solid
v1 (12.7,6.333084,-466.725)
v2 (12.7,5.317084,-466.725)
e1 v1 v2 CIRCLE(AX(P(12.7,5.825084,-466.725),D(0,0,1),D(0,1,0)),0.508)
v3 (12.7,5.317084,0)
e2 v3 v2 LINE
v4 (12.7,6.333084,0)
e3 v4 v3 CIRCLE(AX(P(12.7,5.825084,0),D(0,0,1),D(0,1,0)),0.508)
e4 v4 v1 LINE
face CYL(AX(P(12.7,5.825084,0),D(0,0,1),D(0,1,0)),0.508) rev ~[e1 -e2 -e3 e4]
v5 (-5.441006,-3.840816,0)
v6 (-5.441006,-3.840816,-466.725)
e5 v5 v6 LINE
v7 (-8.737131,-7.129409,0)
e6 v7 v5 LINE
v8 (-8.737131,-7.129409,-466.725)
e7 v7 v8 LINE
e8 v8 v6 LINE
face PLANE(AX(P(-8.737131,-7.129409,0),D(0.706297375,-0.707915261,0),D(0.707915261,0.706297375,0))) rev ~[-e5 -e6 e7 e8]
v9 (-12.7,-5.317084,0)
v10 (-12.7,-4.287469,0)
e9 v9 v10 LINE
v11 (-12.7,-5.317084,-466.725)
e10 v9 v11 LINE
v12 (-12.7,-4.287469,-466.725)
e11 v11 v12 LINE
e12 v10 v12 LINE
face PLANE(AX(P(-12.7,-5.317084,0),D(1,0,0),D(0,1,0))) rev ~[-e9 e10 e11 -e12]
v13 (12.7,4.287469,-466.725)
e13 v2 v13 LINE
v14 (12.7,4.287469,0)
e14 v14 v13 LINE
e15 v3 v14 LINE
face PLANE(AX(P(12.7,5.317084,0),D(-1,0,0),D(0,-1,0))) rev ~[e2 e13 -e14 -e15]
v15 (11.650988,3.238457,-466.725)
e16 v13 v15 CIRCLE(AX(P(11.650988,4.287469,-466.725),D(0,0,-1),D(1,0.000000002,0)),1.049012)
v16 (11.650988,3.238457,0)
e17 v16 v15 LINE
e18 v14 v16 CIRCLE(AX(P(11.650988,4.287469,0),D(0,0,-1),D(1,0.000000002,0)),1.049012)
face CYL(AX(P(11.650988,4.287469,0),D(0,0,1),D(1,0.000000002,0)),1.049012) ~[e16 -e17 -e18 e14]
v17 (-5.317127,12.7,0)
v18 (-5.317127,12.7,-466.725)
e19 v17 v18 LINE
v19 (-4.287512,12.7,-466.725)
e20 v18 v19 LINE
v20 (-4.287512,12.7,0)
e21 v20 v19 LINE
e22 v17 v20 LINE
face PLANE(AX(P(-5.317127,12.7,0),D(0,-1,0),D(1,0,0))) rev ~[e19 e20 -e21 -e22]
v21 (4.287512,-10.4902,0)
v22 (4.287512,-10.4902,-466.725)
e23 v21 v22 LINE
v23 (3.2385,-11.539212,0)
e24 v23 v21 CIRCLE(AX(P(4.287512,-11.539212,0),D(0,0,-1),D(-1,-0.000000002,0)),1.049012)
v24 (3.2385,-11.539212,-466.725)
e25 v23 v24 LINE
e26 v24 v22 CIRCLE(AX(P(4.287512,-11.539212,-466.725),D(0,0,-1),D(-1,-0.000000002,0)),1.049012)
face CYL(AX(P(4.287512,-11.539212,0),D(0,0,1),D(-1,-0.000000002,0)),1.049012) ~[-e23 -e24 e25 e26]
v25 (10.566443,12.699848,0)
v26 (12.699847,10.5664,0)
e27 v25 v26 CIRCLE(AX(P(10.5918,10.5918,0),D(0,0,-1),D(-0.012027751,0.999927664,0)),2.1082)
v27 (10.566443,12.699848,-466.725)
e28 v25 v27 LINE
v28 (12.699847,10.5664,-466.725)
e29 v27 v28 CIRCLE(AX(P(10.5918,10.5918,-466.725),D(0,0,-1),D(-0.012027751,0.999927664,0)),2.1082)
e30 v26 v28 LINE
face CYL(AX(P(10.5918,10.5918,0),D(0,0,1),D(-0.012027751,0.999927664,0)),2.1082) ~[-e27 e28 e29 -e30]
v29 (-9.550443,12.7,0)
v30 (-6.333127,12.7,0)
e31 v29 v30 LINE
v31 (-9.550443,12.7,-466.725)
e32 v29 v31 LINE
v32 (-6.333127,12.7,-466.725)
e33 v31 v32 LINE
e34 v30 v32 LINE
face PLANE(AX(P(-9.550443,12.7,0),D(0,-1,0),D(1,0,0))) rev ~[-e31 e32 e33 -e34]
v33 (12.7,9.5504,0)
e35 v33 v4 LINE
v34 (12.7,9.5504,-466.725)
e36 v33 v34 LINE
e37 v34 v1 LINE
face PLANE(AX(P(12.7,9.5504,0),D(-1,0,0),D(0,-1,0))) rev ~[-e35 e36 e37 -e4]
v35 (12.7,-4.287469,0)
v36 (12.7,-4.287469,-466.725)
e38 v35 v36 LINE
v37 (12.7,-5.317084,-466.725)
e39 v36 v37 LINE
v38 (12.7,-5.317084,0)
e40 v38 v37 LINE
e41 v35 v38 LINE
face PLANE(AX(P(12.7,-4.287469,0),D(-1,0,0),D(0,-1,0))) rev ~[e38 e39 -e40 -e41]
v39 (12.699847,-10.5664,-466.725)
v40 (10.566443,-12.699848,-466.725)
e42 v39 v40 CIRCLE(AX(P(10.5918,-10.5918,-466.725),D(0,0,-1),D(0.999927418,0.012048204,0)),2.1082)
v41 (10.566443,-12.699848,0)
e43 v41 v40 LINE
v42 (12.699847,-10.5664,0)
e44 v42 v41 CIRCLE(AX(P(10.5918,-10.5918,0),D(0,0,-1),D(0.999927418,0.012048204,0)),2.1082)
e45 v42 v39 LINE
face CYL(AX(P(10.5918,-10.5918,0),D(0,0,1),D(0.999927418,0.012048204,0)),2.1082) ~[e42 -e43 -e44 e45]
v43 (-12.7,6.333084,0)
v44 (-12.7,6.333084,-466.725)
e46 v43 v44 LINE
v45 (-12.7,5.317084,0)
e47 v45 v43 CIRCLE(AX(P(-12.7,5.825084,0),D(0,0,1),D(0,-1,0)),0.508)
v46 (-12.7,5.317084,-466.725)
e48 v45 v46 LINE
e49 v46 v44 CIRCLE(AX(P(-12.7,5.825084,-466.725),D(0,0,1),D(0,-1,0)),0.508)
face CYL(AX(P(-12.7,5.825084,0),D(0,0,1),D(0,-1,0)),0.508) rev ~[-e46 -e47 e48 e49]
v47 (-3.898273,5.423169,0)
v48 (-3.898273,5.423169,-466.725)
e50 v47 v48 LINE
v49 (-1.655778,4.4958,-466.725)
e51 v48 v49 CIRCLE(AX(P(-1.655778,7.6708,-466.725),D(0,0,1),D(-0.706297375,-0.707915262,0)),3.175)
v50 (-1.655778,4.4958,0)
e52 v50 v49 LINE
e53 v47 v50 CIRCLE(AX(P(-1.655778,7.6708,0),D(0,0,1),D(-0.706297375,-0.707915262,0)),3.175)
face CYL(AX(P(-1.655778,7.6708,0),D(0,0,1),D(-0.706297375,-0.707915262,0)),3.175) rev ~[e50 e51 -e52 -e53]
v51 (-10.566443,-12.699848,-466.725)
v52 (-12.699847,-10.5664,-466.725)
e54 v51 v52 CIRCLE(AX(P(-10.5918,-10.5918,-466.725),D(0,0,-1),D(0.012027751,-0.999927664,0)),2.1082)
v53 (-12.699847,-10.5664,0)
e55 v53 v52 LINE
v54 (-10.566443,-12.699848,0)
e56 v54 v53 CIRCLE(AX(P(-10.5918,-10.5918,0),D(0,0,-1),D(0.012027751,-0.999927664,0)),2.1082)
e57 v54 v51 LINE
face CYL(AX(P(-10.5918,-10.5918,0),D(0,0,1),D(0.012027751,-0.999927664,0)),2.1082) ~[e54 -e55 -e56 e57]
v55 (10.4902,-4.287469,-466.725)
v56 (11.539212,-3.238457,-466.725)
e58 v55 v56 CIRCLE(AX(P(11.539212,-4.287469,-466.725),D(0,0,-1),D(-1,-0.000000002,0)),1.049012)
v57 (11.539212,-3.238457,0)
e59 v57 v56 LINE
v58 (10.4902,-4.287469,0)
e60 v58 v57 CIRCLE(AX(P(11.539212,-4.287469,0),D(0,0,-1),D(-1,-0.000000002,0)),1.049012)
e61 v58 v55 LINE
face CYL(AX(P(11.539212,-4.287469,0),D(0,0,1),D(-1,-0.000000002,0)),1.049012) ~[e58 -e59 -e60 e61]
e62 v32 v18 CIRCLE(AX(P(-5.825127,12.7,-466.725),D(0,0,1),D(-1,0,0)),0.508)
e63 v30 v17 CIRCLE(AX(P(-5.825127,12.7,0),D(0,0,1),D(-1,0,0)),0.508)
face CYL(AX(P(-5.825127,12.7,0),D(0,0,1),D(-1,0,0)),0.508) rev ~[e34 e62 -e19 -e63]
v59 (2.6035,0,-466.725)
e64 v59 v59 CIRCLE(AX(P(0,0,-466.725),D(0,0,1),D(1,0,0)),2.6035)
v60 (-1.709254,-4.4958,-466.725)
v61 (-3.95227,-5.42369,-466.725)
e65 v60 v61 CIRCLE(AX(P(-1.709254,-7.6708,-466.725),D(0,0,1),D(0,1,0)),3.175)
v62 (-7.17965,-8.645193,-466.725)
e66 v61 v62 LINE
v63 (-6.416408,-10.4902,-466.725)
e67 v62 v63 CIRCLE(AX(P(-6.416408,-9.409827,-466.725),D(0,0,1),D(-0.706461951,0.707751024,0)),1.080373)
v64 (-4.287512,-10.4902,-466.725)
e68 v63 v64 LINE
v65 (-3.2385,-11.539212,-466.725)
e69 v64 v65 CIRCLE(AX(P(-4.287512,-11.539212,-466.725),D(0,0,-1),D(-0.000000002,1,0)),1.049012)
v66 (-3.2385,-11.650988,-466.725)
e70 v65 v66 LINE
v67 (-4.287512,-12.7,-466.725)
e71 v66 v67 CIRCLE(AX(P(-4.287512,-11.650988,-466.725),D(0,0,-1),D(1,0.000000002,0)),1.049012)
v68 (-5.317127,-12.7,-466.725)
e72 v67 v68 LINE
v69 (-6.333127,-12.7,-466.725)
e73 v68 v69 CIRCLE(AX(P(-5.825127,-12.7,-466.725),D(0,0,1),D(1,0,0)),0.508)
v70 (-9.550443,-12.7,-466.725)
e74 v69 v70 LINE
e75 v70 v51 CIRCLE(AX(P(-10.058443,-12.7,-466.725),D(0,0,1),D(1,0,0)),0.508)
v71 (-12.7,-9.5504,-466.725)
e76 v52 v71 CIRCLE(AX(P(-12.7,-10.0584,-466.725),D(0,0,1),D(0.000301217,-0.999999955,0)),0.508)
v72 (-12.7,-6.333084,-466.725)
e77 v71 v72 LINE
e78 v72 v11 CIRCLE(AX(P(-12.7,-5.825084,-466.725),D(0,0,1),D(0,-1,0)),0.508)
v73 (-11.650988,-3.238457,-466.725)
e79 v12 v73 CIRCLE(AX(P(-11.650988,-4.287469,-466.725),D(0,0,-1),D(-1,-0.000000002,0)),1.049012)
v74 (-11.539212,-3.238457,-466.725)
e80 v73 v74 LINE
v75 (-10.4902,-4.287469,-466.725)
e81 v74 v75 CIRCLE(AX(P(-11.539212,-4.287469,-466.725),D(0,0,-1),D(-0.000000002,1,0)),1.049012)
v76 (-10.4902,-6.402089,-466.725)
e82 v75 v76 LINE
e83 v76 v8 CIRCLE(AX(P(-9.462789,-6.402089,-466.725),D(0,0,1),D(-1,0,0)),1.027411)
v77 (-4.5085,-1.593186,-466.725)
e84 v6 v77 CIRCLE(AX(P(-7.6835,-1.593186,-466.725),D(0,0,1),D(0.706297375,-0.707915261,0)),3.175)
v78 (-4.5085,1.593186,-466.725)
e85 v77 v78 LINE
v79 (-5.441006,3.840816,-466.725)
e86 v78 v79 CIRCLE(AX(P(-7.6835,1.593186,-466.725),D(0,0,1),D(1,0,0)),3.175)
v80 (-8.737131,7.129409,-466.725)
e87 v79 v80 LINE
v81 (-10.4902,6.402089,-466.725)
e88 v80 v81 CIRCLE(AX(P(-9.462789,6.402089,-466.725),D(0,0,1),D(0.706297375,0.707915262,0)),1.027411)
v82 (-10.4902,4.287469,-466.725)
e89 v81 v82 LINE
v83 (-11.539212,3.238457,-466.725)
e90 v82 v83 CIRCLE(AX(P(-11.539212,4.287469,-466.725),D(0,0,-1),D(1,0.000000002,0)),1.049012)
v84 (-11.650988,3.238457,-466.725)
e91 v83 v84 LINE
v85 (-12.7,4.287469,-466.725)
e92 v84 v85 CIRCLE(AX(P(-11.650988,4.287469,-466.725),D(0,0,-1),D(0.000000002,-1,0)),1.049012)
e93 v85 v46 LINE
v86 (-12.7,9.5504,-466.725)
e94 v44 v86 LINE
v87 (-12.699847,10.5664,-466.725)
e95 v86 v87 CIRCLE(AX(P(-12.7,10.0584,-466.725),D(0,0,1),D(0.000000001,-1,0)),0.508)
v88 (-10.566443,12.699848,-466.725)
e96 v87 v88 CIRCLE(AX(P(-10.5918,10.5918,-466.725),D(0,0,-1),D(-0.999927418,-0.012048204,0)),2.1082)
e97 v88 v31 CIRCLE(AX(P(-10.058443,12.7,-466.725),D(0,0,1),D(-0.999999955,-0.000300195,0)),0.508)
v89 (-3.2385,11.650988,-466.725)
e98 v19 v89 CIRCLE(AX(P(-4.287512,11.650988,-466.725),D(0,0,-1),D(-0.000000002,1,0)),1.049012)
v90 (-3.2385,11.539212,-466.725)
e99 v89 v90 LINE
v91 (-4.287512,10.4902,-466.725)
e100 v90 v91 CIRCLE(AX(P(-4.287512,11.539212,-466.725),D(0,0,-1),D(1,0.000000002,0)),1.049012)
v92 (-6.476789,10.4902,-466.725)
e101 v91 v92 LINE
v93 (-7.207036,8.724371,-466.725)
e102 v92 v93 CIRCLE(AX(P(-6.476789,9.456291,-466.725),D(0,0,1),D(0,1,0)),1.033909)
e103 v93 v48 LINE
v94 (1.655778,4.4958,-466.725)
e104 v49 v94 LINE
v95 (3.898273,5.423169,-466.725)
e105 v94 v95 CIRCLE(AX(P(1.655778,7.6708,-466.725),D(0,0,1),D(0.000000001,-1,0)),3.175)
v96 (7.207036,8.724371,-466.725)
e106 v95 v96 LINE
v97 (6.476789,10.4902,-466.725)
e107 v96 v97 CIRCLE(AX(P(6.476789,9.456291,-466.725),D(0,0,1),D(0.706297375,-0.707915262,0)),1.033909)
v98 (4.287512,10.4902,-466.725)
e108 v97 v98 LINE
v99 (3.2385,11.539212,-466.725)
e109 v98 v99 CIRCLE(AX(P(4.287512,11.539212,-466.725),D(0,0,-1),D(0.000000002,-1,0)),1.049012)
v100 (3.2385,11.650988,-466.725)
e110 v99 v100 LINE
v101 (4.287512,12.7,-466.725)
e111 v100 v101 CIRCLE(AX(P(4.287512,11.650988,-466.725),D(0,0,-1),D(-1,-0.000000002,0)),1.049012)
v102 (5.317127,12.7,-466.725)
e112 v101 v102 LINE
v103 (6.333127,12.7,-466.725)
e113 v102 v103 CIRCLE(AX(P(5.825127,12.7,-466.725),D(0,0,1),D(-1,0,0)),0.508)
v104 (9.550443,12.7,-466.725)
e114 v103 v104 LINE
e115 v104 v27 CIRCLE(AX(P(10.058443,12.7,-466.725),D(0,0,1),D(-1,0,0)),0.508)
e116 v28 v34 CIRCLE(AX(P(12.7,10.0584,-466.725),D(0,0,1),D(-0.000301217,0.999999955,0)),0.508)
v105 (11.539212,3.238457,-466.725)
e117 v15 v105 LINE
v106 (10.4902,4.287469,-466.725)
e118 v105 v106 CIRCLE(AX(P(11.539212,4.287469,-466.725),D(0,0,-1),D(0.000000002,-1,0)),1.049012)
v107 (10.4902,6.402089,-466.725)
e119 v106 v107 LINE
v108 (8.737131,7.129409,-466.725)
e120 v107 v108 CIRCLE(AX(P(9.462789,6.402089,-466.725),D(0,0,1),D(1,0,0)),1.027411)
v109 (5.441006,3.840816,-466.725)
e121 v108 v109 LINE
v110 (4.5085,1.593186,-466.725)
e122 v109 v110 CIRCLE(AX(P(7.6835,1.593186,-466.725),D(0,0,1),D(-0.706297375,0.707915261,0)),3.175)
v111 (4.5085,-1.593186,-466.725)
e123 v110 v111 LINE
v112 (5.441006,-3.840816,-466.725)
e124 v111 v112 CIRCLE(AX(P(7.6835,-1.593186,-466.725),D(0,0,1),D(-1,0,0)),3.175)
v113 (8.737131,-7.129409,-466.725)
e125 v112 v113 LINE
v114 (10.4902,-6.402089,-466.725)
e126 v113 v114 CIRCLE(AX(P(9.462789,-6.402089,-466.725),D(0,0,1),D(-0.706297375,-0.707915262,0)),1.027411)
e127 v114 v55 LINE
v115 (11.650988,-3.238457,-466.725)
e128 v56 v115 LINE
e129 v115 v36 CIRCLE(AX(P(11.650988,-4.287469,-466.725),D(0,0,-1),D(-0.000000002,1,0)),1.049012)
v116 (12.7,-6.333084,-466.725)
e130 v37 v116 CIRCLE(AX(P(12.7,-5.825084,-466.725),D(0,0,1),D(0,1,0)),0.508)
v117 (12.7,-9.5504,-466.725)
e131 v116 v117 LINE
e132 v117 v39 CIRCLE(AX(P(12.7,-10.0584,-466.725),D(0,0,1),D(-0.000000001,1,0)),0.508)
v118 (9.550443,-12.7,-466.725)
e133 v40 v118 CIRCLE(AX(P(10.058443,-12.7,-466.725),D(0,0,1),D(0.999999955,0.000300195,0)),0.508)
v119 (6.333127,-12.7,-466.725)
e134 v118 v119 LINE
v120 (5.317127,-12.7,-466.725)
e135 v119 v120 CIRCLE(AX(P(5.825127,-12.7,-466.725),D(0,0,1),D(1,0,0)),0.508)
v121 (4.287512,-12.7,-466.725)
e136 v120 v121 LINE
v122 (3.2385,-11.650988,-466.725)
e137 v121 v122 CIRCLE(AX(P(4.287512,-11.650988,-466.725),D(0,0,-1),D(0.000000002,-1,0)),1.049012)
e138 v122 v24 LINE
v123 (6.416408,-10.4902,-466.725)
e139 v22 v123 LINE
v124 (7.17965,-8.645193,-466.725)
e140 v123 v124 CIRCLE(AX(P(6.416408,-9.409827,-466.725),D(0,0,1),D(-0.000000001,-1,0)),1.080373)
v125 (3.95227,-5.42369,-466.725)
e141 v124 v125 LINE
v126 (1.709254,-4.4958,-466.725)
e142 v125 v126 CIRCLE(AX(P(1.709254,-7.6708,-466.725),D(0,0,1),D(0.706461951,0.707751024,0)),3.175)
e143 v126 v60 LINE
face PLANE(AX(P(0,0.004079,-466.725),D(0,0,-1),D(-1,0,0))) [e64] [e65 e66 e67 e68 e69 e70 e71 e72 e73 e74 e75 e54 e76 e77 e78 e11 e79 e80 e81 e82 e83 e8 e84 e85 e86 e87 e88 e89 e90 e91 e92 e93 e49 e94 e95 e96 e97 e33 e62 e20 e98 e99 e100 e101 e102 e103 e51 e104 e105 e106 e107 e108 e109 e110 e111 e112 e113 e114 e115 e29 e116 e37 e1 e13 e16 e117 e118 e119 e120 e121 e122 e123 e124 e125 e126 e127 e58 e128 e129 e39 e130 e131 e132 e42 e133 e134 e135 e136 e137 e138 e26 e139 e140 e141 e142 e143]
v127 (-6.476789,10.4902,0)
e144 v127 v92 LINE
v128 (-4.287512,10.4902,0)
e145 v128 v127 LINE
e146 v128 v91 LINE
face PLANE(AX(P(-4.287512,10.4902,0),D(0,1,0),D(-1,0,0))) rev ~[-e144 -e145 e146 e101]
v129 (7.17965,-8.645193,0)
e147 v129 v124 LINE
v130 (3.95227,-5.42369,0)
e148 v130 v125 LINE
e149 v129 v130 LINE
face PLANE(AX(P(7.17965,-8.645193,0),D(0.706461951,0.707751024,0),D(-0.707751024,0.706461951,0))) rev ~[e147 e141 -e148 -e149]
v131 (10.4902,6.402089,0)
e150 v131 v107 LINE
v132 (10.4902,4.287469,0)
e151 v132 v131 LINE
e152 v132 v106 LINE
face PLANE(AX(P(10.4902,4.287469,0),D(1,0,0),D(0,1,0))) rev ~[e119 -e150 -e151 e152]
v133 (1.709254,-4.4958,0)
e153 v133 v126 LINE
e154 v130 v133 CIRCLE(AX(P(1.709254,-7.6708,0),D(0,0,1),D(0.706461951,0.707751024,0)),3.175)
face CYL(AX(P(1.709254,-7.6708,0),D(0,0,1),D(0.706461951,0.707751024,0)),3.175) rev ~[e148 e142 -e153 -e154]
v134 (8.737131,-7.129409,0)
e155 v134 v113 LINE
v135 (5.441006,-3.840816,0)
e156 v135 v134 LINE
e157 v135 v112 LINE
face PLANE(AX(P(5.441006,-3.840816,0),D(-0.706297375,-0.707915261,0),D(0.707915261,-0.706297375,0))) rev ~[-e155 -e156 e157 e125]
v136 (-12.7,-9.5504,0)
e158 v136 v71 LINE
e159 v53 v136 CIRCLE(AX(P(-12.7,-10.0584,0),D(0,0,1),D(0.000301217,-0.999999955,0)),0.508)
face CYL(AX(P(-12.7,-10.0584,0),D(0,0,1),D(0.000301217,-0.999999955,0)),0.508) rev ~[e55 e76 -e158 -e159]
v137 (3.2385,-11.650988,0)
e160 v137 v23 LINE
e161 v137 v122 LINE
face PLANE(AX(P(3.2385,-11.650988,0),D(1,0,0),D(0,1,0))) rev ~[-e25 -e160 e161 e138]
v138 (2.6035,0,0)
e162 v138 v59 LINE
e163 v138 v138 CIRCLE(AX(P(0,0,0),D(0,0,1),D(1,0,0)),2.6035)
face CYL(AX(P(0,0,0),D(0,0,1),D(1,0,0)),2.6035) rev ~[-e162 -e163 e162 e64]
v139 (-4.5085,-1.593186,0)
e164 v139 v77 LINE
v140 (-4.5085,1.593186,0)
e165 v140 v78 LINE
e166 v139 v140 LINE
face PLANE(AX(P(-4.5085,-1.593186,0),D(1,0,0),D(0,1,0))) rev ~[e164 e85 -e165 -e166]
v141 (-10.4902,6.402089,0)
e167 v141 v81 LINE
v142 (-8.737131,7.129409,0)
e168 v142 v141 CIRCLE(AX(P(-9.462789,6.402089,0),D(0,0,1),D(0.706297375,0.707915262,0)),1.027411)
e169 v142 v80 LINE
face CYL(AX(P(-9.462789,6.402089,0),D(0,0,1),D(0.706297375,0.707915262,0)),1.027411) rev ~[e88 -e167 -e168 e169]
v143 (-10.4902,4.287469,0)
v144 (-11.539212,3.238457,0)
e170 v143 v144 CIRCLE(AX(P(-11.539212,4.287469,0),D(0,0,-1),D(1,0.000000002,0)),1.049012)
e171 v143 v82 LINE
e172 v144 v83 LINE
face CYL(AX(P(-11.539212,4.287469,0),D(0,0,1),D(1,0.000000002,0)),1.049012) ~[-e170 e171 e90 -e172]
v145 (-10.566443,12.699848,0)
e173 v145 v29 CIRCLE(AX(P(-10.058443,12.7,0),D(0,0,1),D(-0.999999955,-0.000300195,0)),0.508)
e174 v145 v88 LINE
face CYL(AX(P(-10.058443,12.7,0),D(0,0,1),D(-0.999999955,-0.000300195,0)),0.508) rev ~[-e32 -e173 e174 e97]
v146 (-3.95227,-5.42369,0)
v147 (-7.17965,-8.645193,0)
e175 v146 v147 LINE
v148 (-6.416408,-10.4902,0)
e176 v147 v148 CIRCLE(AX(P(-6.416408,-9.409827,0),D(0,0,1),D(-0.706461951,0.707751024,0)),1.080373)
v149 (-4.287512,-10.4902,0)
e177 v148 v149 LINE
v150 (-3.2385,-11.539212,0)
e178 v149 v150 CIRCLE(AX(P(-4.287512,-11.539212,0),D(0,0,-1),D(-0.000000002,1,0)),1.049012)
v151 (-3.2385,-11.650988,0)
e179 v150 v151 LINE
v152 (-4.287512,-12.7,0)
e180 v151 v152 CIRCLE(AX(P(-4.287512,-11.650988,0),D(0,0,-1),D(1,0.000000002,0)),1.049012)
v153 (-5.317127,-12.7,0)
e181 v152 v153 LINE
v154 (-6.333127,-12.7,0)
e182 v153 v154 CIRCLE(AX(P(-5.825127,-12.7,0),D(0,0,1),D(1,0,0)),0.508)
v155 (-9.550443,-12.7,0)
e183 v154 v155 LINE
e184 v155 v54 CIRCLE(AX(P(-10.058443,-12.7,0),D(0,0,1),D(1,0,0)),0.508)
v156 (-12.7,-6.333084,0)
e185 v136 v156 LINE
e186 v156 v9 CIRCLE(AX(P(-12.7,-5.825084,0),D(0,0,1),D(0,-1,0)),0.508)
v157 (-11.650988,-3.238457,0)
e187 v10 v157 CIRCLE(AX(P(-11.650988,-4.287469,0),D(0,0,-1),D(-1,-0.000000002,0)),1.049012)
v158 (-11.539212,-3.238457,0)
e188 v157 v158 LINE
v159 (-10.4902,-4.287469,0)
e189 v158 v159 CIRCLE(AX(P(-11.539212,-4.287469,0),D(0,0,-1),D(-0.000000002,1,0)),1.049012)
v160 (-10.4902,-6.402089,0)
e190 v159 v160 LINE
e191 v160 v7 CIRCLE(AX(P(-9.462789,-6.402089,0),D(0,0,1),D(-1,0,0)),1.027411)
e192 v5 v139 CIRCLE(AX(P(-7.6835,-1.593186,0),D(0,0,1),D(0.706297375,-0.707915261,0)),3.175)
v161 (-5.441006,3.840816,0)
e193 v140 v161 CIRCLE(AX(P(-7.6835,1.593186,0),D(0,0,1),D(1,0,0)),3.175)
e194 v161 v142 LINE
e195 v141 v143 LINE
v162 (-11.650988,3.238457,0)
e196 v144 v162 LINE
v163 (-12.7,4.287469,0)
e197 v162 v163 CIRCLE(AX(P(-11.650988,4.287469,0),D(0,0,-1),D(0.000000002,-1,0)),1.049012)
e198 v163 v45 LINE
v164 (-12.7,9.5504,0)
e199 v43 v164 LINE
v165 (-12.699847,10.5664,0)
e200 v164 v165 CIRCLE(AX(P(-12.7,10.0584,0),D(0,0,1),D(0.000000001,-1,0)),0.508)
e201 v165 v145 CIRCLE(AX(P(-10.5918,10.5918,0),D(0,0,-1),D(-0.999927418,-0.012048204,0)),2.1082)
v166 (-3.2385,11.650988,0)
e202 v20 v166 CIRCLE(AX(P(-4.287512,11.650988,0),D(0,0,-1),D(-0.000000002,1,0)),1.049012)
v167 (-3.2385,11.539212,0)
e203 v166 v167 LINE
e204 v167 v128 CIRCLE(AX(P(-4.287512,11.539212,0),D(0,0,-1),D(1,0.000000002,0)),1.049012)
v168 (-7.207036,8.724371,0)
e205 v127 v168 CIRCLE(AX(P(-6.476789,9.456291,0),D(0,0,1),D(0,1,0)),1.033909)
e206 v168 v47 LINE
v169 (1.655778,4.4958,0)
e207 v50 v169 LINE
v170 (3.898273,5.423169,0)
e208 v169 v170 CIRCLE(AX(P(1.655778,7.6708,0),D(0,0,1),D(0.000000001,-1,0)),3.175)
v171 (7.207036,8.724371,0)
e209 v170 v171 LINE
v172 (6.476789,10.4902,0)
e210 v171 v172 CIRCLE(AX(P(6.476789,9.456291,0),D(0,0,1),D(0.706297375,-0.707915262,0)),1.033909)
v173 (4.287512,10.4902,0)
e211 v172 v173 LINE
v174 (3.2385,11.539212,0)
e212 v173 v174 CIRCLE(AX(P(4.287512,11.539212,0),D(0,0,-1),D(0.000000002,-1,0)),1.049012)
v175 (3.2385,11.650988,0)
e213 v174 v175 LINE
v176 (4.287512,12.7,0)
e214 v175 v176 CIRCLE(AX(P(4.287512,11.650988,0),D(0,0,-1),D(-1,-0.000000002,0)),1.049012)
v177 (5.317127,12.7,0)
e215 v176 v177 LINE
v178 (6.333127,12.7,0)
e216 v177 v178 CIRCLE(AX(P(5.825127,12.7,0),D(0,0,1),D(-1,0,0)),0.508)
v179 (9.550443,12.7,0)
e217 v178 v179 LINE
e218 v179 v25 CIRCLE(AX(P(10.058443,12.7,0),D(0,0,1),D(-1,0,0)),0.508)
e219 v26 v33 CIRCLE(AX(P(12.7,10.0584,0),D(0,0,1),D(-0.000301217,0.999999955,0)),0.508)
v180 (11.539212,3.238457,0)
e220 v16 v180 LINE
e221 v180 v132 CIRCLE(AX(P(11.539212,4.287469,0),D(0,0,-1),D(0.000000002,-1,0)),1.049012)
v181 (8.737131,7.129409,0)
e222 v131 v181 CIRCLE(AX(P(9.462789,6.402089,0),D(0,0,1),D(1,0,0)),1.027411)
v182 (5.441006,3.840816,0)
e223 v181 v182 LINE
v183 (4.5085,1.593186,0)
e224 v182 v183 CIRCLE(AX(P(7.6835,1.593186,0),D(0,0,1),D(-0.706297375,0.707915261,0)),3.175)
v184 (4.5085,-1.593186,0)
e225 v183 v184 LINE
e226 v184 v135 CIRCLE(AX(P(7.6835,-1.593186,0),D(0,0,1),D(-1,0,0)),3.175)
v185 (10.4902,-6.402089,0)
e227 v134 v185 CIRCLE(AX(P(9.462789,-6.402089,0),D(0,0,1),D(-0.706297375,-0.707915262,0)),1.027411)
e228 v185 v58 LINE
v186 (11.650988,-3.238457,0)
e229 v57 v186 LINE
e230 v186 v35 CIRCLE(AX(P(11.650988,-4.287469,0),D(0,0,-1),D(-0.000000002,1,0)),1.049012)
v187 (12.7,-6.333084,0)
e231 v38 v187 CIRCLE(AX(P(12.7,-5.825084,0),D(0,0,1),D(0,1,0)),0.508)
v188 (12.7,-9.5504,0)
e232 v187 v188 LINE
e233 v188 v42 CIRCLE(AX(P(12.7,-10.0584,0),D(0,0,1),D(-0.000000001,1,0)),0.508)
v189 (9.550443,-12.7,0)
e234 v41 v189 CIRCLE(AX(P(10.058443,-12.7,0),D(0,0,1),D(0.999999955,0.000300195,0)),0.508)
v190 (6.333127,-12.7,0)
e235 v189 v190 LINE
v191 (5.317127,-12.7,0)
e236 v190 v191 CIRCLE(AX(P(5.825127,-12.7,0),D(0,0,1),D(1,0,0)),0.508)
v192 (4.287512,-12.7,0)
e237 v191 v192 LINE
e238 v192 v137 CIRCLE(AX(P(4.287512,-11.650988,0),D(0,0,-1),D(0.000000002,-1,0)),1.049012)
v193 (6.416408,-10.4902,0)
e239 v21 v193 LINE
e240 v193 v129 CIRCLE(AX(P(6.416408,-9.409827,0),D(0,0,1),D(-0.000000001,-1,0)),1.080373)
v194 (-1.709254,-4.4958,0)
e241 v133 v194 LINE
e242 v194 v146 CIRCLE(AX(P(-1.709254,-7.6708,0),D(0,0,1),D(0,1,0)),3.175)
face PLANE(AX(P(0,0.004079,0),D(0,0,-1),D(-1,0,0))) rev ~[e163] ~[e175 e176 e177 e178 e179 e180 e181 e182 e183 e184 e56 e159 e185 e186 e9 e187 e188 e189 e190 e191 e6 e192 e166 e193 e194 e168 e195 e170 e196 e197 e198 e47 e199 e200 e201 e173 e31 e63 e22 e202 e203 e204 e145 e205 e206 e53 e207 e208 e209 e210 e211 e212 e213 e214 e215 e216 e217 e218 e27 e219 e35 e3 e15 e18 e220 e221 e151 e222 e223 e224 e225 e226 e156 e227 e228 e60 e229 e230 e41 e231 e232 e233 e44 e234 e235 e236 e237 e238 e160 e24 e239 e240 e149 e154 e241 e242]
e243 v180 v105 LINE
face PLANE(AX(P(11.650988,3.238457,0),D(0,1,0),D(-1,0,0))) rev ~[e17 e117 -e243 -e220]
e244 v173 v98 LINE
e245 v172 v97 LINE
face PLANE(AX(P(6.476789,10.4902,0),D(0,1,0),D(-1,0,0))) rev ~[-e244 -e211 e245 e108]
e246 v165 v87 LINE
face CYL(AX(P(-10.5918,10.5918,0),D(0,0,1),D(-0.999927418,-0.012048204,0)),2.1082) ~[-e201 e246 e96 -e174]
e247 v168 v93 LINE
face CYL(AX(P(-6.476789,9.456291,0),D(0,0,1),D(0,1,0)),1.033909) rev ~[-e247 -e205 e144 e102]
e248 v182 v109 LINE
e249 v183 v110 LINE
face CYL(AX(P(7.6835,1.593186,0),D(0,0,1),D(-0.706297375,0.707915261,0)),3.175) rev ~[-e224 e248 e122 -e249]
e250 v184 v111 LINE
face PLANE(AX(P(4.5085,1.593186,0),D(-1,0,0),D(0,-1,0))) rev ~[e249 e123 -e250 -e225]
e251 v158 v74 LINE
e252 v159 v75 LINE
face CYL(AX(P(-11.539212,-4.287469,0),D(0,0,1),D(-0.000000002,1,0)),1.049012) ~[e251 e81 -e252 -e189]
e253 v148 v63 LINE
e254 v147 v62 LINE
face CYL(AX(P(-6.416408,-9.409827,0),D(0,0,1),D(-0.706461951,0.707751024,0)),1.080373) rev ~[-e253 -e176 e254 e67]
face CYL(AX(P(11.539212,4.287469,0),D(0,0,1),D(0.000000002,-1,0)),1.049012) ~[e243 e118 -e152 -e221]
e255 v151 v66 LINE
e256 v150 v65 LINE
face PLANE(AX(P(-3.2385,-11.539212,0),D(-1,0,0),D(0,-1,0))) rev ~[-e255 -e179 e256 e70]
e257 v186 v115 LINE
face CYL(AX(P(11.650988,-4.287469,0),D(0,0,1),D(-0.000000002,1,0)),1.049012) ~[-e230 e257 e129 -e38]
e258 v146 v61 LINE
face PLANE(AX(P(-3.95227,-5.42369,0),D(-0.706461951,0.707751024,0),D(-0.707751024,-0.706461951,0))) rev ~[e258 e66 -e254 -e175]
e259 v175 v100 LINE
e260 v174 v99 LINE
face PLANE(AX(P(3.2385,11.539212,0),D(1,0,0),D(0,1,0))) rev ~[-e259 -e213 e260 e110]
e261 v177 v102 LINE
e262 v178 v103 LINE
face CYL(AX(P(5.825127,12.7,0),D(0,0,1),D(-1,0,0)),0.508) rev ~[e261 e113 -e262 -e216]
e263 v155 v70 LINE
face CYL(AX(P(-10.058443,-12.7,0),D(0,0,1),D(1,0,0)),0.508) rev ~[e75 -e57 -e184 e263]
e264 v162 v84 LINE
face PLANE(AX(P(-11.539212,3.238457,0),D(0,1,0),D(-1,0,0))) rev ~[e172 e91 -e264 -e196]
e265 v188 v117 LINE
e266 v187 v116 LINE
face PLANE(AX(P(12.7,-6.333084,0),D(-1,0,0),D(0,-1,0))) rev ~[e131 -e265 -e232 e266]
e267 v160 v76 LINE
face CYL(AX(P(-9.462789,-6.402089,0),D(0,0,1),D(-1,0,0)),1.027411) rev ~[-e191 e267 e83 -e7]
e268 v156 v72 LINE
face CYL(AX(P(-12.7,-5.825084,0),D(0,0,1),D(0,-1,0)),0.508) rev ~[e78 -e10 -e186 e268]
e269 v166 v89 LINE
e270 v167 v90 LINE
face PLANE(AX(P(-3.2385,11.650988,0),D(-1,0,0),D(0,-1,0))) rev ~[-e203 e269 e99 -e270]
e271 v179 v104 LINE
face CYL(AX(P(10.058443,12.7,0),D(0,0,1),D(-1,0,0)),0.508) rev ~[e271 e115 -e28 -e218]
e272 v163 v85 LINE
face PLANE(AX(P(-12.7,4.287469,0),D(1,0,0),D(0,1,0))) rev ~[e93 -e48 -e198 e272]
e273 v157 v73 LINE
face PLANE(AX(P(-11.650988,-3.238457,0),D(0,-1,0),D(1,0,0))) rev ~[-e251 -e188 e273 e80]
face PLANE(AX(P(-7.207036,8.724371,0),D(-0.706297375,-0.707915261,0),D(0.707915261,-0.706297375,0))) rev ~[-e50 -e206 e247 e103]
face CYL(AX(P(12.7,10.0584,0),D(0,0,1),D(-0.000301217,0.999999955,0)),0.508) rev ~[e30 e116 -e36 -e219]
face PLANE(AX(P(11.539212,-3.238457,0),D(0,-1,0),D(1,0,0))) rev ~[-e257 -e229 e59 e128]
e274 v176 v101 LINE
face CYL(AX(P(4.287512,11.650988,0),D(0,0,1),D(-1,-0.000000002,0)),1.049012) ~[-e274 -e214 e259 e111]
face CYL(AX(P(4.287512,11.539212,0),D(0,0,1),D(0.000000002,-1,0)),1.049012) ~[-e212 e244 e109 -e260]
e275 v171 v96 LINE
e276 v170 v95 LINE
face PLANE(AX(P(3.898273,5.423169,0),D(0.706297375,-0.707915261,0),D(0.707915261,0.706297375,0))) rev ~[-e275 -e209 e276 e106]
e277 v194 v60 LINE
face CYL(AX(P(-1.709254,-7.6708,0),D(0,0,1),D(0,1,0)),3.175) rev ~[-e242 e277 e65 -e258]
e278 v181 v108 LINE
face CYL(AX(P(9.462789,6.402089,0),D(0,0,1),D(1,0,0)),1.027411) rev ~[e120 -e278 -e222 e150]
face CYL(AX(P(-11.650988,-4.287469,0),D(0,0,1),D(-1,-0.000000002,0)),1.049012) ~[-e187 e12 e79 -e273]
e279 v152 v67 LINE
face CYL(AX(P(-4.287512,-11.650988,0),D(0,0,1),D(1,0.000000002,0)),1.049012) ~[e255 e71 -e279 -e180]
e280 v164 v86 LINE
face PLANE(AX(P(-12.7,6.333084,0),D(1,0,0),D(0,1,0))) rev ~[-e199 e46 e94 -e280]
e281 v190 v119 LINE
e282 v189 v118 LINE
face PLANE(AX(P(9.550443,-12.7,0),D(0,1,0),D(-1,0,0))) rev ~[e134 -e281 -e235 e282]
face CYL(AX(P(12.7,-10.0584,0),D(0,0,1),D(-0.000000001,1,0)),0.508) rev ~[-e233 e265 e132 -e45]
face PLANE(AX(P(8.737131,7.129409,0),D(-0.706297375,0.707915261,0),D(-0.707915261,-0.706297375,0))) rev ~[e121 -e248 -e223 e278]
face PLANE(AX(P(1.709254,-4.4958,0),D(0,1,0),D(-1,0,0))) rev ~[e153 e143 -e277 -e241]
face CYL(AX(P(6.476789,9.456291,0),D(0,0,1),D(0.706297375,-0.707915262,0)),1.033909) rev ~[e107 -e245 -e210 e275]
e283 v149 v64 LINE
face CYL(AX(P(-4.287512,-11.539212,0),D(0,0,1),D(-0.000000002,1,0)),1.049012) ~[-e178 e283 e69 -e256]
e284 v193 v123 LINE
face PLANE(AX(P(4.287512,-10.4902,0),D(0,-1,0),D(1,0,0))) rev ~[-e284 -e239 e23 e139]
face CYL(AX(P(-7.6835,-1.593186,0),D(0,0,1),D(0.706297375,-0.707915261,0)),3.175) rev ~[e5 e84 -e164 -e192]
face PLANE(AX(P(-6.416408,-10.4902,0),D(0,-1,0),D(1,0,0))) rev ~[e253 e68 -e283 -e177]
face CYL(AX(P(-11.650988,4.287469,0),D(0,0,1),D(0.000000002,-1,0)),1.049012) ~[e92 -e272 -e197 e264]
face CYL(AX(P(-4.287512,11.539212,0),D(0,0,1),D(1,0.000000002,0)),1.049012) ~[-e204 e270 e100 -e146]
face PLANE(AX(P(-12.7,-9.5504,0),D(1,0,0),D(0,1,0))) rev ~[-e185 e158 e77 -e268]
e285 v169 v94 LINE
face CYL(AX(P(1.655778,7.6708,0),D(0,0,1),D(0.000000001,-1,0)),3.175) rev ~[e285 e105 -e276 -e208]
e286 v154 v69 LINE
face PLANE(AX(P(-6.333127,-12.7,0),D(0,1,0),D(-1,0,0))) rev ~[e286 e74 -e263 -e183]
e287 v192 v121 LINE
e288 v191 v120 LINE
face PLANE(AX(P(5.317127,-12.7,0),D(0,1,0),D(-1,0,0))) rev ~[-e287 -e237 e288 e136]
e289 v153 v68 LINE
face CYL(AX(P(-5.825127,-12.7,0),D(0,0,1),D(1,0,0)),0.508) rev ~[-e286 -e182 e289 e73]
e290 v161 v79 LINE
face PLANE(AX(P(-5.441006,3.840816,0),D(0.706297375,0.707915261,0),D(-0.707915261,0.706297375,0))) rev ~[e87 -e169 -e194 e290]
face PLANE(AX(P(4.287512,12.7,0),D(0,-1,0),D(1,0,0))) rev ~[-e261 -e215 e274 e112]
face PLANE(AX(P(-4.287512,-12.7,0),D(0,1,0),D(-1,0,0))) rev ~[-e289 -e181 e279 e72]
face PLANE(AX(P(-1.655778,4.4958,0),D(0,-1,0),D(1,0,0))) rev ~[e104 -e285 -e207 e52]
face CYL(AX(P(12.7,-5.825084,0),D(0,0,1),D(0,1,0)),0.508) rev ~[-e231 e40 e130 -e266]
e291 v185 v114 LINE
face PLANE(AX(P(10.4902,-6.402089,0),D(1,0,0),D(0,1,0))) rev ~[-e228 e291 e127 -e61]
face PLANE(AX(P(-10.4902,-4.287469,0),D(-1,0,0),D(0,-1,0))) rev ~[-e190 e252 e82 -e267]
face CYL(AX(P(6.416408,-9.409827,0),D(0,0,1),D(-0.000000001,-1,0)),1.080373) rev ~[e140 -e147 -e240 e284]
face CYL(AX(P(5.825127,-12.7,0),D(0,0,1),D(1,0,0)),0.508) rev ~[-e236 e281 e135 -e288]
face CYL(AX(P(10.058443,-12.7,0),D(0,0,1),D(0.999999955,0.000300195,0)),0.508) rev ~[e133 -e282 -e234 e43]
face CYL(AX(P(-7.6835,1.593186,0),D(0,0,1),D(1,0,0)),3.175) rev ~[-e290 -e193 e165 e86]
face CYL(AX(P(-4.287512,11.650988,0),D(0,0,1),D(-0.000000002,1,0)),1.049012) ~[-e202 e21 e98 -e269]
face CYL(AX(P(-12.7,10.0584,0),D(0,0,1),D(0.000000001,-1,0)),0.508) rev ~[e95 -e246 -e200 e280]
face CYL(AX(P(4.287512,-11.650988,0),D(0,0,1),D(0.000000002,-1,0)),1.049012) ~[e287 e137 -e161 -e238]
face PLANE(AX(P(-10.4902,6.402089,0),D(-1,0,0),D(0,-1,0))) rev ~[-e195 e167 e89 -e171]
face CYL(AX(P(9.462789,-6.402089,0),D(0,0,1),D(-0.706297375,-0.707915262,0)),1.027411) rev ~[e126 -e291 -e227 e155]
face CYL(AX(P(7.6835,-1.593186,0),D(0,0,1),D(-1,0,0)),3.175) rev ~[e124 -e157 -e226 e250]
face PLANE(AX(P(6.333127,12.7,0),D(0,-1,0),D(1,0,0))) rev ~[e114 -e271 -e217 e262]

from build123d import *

# Parameters (mm, degrees)
SKETCH1_R      = 2.6035
EXTRUDE1_DEPTH = 466.725


with BuildPart() as part:
    # Sketch1 → Extrude1 (new body)
    with BuildSketch(Plane.XY):
        with BuildLine():
            Line((-7.207036008, 8.724370562), (-3.898272566, 5.423169045))
            ThreePointArc((-3.898272566, 5.423169045), (-2.869120213, 4.736787962), (-1.655778399, 4.4958))
            Line((-1.655778399, 4.4958), (1.655778399, 4.4958))
            ThreePointArc((1.655778399, 4.4958), (2.869120213, 4.736787962), (3.898272566, 5.423169045))
            Line((3.898272566, 5.423169045), (7.207036008, 8.724370562))
            ThreePointArc((7.207036008, 8.724370562), (7.432222385, 9.85140422), (6.476788598, 10.4902))
            Line((6.476788598, 10.4902), (4.287512407, 10.4902))
            ThreePointArc((4.287512407, 10.4902), (3.54574862, 10.79744862), (3.2385, 11.539212407))
            Line((3.2385, 11.539212407), (3.2385, 11.650987593))
            ThreePointArc((3.2385, 11.650987593), (3.54574862, 12.39275138), (4.287512407, 12.7))
            Line((4.287512407, 12.7), (5.317126718, 12.7))
            ThreePointArc((5.317126718, 12.7), (5.825126718, 12.192), (6.333126718, 12.7))
            Line((6.333126718, 12.7), (9.550443118, 12.7))
            ThreePointArc((9.550443118, 12.7), (10.058366869, 12.192000006), (10.566443095, 12.699847501))
            ThreePointArc((10.566443095, 12.699847501), (12.082537762, 12.08250727), (12.699846982, 10.566399977))
            ThreePointArc((12.699846982, 10.566399977), (12.192000006, 10.058323491), (12.7, 9.5504))
            Line((12.7, 9.5504), (12.7, 6.3330836))
            ThreePointArc((12.7, 6.3330836), (12.192, 5.8250836), (12.7, 5.3170836))
            Line((12.7, 5.3170836), (12.7, 4.287469289))
            ThreePointArc((12.7, 4.287469289), (12.39275138, 3.545705502), (11.650987593, 3.238456882))
            Line((11.650987593, 3.238456882), (11.539212407, 3.238456882))
            ThreePointArc((11.539212407, 3.238456882), (10.79744862, 3.545705502), (10.4902, 4.287469289))
            Line((10.4902, 4.287469289), (10.4902, 6.402089023))
            ThreePointArc((10.4902, 6.402089023), (9.856505071, 7.351067942), (8.737131347, 7.129408934))
            Line((8.737131347, 7.129408934), (5.441005833, 3.840816462))
            ThreePointArc((5.441005833, 3.840816462), (4.750877967, 2.809883091), (4.5085, 1.593185507))
            Line((4.5085, 1.593185507), (4.5085, -1.593185507))
            ThreePointArc((4.5085, -1.593185507), (4.750877967, -2.809883091), (5.441005833, -3.840816462))
            Line((5.441005833, -3.840816462), (8.737131347, -7.129408934))
            ThreePointArc((8.737131347, -7.129408934), (9.856505071, -7.351067942), (10.4902, -6.402089023))
            Line((10.4902, -6.402089023), (10.4902, -4.287469289))
            ThreePointArc((10.4902, -4.287469289), (10.79744862, -3.545705502), (11.539212407, -3.238456882))
            Line((11.539212407, -3.238456882), (11.650987593, -3.238456882))
            ThreePointArc((11.650987593, -3.238456882), (12.39275138, -3.545705502), (12.7, -4.287469289))
            Line((12.7, -4.287469289), (12.7, -5.3170836))
            ThreePointArc((12.7, -5.3170836), (12.192, -5.8250836), (12.7, -6.3330836))
            Line((12.7, -6.3330836), (12.7, -9.5504))
            ThreePointArc((12.7, -9.5504), (12.192000006, -10.058323491), (12.699846982, -10.566399977))
            ThreePointArc((12.699846982, -10.566399977), (12.082537762, -12.08250727), (10.566443095, -12.699847501))
            ThreePointArc((10.566443095, -12.699847501), (10.058366869, -12.192000006), (9.550443118, -12.7))
            Line((9.550443118, -12.7), (6.333126718, -12.7))
            ThreePointArc((6.333126718, -12.7), (5.825126718, -12.192), (5.317126718, -12.7))
            Line((5.317126718, -12.7), (4.287512407, -12.7))
            ThreePointArc((4.287512407, -12.7), (3.54574862, -12.39275138), (3.2385, -11.650987593))
            Line((3.2385, -11.650987593), (3.2385, -11.539212407))
            ThreePointArc((3.2385, -11.539212407), (3.54574862, -10.79744862), (4.287512407, -10.4902))
            Line((4.287512407, -10.4902), (6.416408329, -10.4902))
            ThreePointArc((6.416408329, -10.4902), (7.41473083, -9.822813117), (7.179650497, -8.645192506))
            Line((7.179650497, -8.645192506), (3.952270251, -5.423690499))
            ThreePointArc((3.952270251, -5.423690499), (2.922936451, -4.736929036), (1.709253557, -4.4958))
            Line((1.709253557, -4.4958), (-1.709253557, -4.4958))
            ThreePointArc((-1.709253557, -4.4958), (-2.922936451, -4.736929036), (-3.952270251, -5.423690499))
            Line((-3.952270251, -5.423690499), (-7.179650497, -8.645192506))
            ThreePointArc((-7.179650497, -8.645192506), (-7.41473083, -9.822813117), (-6.416408329, -10.4902))
            Line((-6.416408329, -10.4902), (-4.287512407, -10.4902))
            ThreePointArc((-4.287512407, -10.4902), (-3.54574862, -10.79744862), (-3.2385, -11.539212407))
            Line((-3.2385, -11.539212407), (-3.2385, -11.650987593))
            ThreePointArc((-3.2385, -11.650987593), (-3.54574862, -12.39275138), (-4.287512407, -12.7))
            Line((-4.287512407, -12.7), (-5.317126718, -12.7))
            ThreePointArc((-5.317126718, -12.7), (-5.825126718, -12.192), (-6.333126718, -12.7))
            Line((-6.333126718, -12.7), (-9.550443118, -12.7))
            ThreePointArc((-9.550443118, -12.7), (-10.058366869, -12.192000006), (-10.566443095, -12.699847501))
            ThreePointArc((-10.566443095, -12.699847501), (-12.082537762, -12.08250727), (-12.699846982, -10.566399977))
            ThreePointArc((-12.699846982, -10.566399977), (-12.192000006, -10.058323491), (-12.7, -9.5504))
            Line((-12.7, -9.5504), (-12.7, -6.3330836))
            ThreePointArc((-12.7, -6.3330836), (-12.192, -5.8250836), (-12.7, -5.3170836))
            Line((-12.7, -5.3170836), (-12.7, -4.287469289))
            ThreePointArc((-12.7, -4.287469289), (-12.39275138, -3.545705502), (-11.650987593, -3.238456882))
            Line((-11.650987593, -3.238456882), (-11.539212407, -3.238456882))
            ThreePointArc((-11.539212407, -3.238456882), (-10.79744862, -3.545705502), (-10.4902, -4.287469289))
            Line((-10.4902, -4.287469289), (-10.4902, -6.402089023))
            ThreePointArc((-10.4902, -6.402089023), (-9.856505071, -7.351067942), (-8.737131347, -7.129408934))
            Line((-8.737131347, -7.129408934), (-5.441005833, -3.840816462))
            ThreePointArc((-5.441005833, -3.840816462), (-4.750877967, -2.809883091), (-4.5085, -1.593185507))
            Line((-4.5085, -1.593185507), (-4.5085, 1.593185507))
            ThreePointArc((-4.5085, 1.593185507), (-4.750877967, 2.809883091), (-5.441005833, 3.840816462))
            Line((-5.441005833, 3.840816462), (-8.737131347, 7.129408934))
            ThreePointArc((-8.737131347, 7.129408934), (-9.856505071, 7.351067942), (-10.4902, 6.402089023))
            Line((-10.4902, 6.402089023), (-10.4902, 4.287469289))
            ThreePointArc((-10.4902, 4.287469289), (-10.79744862, 3.545705502), (-11.539212407, 3.238456882))
            Line((-11.539212407, 3.238456882), (-11.650987593, 3.238456882))
            ThreePointArc((-11.650987593, 3.238456882), (-12.39275138, 3.545705502), (-12.7, 4.287469289))
            Line((-12.7, 4.287469289), (-12.7, 5.3170836))
            ThreePointArc((-12.7, 5.3170836), (-12.192, 5.8250836), (-12.7, 6.3330836))
            Line((-12.7, 6.3330836), (-12.7, 9.5504))
            ThreePointArc((-12.7, 9.5504), (-12.192000006, 10.058323491), (-12.699846982, 10.566399977))
            ThreePointArc((-12.699846982, 10.566399977), (-12.082537762, 12.08250727), (-10.566443095, 12.699847501))
            ThreePointArc((-10.566443095, 12.699847501), (-10.058366869, 12.192000006), (-9.550443118, 12.7))
            Line((-9.550443118, 12.7), (-6.333126718, 12.7))
            ThreePointArc((-6.333126718, 12.7), (-5.825126718, 12.192), (-5.317126718, 12.7))
            Line((-5.317126718, 12.7), (-4.287512407, 12.7))
            ThreePointArc((-4.287512407, 12.7), (-3.54574862, 12.39275138), (-3.2385, 11.650987593))
            Line((-3.2385, 11.650987593), (-3.2385, 11.539212407))
            ThreePointArc((-3.2385, 11.539212407), (-3.54574862, 10.79744862), (-4.287512407, 10.4902))
            Line((-4.287512407, 10.4902), (-6.476788598, 10.4902))
            ThreePointArc((-6.476788598, 10.4902), (-7.432222385, 9.85140422), (-7.207036008, 8.724370562))
        make_face()
        Circle(SKETCH1_R, mode=Mode.SUBTRACT)
    extrude(amount=-EXTRUDE1_DEPTH)


solid = part.part
